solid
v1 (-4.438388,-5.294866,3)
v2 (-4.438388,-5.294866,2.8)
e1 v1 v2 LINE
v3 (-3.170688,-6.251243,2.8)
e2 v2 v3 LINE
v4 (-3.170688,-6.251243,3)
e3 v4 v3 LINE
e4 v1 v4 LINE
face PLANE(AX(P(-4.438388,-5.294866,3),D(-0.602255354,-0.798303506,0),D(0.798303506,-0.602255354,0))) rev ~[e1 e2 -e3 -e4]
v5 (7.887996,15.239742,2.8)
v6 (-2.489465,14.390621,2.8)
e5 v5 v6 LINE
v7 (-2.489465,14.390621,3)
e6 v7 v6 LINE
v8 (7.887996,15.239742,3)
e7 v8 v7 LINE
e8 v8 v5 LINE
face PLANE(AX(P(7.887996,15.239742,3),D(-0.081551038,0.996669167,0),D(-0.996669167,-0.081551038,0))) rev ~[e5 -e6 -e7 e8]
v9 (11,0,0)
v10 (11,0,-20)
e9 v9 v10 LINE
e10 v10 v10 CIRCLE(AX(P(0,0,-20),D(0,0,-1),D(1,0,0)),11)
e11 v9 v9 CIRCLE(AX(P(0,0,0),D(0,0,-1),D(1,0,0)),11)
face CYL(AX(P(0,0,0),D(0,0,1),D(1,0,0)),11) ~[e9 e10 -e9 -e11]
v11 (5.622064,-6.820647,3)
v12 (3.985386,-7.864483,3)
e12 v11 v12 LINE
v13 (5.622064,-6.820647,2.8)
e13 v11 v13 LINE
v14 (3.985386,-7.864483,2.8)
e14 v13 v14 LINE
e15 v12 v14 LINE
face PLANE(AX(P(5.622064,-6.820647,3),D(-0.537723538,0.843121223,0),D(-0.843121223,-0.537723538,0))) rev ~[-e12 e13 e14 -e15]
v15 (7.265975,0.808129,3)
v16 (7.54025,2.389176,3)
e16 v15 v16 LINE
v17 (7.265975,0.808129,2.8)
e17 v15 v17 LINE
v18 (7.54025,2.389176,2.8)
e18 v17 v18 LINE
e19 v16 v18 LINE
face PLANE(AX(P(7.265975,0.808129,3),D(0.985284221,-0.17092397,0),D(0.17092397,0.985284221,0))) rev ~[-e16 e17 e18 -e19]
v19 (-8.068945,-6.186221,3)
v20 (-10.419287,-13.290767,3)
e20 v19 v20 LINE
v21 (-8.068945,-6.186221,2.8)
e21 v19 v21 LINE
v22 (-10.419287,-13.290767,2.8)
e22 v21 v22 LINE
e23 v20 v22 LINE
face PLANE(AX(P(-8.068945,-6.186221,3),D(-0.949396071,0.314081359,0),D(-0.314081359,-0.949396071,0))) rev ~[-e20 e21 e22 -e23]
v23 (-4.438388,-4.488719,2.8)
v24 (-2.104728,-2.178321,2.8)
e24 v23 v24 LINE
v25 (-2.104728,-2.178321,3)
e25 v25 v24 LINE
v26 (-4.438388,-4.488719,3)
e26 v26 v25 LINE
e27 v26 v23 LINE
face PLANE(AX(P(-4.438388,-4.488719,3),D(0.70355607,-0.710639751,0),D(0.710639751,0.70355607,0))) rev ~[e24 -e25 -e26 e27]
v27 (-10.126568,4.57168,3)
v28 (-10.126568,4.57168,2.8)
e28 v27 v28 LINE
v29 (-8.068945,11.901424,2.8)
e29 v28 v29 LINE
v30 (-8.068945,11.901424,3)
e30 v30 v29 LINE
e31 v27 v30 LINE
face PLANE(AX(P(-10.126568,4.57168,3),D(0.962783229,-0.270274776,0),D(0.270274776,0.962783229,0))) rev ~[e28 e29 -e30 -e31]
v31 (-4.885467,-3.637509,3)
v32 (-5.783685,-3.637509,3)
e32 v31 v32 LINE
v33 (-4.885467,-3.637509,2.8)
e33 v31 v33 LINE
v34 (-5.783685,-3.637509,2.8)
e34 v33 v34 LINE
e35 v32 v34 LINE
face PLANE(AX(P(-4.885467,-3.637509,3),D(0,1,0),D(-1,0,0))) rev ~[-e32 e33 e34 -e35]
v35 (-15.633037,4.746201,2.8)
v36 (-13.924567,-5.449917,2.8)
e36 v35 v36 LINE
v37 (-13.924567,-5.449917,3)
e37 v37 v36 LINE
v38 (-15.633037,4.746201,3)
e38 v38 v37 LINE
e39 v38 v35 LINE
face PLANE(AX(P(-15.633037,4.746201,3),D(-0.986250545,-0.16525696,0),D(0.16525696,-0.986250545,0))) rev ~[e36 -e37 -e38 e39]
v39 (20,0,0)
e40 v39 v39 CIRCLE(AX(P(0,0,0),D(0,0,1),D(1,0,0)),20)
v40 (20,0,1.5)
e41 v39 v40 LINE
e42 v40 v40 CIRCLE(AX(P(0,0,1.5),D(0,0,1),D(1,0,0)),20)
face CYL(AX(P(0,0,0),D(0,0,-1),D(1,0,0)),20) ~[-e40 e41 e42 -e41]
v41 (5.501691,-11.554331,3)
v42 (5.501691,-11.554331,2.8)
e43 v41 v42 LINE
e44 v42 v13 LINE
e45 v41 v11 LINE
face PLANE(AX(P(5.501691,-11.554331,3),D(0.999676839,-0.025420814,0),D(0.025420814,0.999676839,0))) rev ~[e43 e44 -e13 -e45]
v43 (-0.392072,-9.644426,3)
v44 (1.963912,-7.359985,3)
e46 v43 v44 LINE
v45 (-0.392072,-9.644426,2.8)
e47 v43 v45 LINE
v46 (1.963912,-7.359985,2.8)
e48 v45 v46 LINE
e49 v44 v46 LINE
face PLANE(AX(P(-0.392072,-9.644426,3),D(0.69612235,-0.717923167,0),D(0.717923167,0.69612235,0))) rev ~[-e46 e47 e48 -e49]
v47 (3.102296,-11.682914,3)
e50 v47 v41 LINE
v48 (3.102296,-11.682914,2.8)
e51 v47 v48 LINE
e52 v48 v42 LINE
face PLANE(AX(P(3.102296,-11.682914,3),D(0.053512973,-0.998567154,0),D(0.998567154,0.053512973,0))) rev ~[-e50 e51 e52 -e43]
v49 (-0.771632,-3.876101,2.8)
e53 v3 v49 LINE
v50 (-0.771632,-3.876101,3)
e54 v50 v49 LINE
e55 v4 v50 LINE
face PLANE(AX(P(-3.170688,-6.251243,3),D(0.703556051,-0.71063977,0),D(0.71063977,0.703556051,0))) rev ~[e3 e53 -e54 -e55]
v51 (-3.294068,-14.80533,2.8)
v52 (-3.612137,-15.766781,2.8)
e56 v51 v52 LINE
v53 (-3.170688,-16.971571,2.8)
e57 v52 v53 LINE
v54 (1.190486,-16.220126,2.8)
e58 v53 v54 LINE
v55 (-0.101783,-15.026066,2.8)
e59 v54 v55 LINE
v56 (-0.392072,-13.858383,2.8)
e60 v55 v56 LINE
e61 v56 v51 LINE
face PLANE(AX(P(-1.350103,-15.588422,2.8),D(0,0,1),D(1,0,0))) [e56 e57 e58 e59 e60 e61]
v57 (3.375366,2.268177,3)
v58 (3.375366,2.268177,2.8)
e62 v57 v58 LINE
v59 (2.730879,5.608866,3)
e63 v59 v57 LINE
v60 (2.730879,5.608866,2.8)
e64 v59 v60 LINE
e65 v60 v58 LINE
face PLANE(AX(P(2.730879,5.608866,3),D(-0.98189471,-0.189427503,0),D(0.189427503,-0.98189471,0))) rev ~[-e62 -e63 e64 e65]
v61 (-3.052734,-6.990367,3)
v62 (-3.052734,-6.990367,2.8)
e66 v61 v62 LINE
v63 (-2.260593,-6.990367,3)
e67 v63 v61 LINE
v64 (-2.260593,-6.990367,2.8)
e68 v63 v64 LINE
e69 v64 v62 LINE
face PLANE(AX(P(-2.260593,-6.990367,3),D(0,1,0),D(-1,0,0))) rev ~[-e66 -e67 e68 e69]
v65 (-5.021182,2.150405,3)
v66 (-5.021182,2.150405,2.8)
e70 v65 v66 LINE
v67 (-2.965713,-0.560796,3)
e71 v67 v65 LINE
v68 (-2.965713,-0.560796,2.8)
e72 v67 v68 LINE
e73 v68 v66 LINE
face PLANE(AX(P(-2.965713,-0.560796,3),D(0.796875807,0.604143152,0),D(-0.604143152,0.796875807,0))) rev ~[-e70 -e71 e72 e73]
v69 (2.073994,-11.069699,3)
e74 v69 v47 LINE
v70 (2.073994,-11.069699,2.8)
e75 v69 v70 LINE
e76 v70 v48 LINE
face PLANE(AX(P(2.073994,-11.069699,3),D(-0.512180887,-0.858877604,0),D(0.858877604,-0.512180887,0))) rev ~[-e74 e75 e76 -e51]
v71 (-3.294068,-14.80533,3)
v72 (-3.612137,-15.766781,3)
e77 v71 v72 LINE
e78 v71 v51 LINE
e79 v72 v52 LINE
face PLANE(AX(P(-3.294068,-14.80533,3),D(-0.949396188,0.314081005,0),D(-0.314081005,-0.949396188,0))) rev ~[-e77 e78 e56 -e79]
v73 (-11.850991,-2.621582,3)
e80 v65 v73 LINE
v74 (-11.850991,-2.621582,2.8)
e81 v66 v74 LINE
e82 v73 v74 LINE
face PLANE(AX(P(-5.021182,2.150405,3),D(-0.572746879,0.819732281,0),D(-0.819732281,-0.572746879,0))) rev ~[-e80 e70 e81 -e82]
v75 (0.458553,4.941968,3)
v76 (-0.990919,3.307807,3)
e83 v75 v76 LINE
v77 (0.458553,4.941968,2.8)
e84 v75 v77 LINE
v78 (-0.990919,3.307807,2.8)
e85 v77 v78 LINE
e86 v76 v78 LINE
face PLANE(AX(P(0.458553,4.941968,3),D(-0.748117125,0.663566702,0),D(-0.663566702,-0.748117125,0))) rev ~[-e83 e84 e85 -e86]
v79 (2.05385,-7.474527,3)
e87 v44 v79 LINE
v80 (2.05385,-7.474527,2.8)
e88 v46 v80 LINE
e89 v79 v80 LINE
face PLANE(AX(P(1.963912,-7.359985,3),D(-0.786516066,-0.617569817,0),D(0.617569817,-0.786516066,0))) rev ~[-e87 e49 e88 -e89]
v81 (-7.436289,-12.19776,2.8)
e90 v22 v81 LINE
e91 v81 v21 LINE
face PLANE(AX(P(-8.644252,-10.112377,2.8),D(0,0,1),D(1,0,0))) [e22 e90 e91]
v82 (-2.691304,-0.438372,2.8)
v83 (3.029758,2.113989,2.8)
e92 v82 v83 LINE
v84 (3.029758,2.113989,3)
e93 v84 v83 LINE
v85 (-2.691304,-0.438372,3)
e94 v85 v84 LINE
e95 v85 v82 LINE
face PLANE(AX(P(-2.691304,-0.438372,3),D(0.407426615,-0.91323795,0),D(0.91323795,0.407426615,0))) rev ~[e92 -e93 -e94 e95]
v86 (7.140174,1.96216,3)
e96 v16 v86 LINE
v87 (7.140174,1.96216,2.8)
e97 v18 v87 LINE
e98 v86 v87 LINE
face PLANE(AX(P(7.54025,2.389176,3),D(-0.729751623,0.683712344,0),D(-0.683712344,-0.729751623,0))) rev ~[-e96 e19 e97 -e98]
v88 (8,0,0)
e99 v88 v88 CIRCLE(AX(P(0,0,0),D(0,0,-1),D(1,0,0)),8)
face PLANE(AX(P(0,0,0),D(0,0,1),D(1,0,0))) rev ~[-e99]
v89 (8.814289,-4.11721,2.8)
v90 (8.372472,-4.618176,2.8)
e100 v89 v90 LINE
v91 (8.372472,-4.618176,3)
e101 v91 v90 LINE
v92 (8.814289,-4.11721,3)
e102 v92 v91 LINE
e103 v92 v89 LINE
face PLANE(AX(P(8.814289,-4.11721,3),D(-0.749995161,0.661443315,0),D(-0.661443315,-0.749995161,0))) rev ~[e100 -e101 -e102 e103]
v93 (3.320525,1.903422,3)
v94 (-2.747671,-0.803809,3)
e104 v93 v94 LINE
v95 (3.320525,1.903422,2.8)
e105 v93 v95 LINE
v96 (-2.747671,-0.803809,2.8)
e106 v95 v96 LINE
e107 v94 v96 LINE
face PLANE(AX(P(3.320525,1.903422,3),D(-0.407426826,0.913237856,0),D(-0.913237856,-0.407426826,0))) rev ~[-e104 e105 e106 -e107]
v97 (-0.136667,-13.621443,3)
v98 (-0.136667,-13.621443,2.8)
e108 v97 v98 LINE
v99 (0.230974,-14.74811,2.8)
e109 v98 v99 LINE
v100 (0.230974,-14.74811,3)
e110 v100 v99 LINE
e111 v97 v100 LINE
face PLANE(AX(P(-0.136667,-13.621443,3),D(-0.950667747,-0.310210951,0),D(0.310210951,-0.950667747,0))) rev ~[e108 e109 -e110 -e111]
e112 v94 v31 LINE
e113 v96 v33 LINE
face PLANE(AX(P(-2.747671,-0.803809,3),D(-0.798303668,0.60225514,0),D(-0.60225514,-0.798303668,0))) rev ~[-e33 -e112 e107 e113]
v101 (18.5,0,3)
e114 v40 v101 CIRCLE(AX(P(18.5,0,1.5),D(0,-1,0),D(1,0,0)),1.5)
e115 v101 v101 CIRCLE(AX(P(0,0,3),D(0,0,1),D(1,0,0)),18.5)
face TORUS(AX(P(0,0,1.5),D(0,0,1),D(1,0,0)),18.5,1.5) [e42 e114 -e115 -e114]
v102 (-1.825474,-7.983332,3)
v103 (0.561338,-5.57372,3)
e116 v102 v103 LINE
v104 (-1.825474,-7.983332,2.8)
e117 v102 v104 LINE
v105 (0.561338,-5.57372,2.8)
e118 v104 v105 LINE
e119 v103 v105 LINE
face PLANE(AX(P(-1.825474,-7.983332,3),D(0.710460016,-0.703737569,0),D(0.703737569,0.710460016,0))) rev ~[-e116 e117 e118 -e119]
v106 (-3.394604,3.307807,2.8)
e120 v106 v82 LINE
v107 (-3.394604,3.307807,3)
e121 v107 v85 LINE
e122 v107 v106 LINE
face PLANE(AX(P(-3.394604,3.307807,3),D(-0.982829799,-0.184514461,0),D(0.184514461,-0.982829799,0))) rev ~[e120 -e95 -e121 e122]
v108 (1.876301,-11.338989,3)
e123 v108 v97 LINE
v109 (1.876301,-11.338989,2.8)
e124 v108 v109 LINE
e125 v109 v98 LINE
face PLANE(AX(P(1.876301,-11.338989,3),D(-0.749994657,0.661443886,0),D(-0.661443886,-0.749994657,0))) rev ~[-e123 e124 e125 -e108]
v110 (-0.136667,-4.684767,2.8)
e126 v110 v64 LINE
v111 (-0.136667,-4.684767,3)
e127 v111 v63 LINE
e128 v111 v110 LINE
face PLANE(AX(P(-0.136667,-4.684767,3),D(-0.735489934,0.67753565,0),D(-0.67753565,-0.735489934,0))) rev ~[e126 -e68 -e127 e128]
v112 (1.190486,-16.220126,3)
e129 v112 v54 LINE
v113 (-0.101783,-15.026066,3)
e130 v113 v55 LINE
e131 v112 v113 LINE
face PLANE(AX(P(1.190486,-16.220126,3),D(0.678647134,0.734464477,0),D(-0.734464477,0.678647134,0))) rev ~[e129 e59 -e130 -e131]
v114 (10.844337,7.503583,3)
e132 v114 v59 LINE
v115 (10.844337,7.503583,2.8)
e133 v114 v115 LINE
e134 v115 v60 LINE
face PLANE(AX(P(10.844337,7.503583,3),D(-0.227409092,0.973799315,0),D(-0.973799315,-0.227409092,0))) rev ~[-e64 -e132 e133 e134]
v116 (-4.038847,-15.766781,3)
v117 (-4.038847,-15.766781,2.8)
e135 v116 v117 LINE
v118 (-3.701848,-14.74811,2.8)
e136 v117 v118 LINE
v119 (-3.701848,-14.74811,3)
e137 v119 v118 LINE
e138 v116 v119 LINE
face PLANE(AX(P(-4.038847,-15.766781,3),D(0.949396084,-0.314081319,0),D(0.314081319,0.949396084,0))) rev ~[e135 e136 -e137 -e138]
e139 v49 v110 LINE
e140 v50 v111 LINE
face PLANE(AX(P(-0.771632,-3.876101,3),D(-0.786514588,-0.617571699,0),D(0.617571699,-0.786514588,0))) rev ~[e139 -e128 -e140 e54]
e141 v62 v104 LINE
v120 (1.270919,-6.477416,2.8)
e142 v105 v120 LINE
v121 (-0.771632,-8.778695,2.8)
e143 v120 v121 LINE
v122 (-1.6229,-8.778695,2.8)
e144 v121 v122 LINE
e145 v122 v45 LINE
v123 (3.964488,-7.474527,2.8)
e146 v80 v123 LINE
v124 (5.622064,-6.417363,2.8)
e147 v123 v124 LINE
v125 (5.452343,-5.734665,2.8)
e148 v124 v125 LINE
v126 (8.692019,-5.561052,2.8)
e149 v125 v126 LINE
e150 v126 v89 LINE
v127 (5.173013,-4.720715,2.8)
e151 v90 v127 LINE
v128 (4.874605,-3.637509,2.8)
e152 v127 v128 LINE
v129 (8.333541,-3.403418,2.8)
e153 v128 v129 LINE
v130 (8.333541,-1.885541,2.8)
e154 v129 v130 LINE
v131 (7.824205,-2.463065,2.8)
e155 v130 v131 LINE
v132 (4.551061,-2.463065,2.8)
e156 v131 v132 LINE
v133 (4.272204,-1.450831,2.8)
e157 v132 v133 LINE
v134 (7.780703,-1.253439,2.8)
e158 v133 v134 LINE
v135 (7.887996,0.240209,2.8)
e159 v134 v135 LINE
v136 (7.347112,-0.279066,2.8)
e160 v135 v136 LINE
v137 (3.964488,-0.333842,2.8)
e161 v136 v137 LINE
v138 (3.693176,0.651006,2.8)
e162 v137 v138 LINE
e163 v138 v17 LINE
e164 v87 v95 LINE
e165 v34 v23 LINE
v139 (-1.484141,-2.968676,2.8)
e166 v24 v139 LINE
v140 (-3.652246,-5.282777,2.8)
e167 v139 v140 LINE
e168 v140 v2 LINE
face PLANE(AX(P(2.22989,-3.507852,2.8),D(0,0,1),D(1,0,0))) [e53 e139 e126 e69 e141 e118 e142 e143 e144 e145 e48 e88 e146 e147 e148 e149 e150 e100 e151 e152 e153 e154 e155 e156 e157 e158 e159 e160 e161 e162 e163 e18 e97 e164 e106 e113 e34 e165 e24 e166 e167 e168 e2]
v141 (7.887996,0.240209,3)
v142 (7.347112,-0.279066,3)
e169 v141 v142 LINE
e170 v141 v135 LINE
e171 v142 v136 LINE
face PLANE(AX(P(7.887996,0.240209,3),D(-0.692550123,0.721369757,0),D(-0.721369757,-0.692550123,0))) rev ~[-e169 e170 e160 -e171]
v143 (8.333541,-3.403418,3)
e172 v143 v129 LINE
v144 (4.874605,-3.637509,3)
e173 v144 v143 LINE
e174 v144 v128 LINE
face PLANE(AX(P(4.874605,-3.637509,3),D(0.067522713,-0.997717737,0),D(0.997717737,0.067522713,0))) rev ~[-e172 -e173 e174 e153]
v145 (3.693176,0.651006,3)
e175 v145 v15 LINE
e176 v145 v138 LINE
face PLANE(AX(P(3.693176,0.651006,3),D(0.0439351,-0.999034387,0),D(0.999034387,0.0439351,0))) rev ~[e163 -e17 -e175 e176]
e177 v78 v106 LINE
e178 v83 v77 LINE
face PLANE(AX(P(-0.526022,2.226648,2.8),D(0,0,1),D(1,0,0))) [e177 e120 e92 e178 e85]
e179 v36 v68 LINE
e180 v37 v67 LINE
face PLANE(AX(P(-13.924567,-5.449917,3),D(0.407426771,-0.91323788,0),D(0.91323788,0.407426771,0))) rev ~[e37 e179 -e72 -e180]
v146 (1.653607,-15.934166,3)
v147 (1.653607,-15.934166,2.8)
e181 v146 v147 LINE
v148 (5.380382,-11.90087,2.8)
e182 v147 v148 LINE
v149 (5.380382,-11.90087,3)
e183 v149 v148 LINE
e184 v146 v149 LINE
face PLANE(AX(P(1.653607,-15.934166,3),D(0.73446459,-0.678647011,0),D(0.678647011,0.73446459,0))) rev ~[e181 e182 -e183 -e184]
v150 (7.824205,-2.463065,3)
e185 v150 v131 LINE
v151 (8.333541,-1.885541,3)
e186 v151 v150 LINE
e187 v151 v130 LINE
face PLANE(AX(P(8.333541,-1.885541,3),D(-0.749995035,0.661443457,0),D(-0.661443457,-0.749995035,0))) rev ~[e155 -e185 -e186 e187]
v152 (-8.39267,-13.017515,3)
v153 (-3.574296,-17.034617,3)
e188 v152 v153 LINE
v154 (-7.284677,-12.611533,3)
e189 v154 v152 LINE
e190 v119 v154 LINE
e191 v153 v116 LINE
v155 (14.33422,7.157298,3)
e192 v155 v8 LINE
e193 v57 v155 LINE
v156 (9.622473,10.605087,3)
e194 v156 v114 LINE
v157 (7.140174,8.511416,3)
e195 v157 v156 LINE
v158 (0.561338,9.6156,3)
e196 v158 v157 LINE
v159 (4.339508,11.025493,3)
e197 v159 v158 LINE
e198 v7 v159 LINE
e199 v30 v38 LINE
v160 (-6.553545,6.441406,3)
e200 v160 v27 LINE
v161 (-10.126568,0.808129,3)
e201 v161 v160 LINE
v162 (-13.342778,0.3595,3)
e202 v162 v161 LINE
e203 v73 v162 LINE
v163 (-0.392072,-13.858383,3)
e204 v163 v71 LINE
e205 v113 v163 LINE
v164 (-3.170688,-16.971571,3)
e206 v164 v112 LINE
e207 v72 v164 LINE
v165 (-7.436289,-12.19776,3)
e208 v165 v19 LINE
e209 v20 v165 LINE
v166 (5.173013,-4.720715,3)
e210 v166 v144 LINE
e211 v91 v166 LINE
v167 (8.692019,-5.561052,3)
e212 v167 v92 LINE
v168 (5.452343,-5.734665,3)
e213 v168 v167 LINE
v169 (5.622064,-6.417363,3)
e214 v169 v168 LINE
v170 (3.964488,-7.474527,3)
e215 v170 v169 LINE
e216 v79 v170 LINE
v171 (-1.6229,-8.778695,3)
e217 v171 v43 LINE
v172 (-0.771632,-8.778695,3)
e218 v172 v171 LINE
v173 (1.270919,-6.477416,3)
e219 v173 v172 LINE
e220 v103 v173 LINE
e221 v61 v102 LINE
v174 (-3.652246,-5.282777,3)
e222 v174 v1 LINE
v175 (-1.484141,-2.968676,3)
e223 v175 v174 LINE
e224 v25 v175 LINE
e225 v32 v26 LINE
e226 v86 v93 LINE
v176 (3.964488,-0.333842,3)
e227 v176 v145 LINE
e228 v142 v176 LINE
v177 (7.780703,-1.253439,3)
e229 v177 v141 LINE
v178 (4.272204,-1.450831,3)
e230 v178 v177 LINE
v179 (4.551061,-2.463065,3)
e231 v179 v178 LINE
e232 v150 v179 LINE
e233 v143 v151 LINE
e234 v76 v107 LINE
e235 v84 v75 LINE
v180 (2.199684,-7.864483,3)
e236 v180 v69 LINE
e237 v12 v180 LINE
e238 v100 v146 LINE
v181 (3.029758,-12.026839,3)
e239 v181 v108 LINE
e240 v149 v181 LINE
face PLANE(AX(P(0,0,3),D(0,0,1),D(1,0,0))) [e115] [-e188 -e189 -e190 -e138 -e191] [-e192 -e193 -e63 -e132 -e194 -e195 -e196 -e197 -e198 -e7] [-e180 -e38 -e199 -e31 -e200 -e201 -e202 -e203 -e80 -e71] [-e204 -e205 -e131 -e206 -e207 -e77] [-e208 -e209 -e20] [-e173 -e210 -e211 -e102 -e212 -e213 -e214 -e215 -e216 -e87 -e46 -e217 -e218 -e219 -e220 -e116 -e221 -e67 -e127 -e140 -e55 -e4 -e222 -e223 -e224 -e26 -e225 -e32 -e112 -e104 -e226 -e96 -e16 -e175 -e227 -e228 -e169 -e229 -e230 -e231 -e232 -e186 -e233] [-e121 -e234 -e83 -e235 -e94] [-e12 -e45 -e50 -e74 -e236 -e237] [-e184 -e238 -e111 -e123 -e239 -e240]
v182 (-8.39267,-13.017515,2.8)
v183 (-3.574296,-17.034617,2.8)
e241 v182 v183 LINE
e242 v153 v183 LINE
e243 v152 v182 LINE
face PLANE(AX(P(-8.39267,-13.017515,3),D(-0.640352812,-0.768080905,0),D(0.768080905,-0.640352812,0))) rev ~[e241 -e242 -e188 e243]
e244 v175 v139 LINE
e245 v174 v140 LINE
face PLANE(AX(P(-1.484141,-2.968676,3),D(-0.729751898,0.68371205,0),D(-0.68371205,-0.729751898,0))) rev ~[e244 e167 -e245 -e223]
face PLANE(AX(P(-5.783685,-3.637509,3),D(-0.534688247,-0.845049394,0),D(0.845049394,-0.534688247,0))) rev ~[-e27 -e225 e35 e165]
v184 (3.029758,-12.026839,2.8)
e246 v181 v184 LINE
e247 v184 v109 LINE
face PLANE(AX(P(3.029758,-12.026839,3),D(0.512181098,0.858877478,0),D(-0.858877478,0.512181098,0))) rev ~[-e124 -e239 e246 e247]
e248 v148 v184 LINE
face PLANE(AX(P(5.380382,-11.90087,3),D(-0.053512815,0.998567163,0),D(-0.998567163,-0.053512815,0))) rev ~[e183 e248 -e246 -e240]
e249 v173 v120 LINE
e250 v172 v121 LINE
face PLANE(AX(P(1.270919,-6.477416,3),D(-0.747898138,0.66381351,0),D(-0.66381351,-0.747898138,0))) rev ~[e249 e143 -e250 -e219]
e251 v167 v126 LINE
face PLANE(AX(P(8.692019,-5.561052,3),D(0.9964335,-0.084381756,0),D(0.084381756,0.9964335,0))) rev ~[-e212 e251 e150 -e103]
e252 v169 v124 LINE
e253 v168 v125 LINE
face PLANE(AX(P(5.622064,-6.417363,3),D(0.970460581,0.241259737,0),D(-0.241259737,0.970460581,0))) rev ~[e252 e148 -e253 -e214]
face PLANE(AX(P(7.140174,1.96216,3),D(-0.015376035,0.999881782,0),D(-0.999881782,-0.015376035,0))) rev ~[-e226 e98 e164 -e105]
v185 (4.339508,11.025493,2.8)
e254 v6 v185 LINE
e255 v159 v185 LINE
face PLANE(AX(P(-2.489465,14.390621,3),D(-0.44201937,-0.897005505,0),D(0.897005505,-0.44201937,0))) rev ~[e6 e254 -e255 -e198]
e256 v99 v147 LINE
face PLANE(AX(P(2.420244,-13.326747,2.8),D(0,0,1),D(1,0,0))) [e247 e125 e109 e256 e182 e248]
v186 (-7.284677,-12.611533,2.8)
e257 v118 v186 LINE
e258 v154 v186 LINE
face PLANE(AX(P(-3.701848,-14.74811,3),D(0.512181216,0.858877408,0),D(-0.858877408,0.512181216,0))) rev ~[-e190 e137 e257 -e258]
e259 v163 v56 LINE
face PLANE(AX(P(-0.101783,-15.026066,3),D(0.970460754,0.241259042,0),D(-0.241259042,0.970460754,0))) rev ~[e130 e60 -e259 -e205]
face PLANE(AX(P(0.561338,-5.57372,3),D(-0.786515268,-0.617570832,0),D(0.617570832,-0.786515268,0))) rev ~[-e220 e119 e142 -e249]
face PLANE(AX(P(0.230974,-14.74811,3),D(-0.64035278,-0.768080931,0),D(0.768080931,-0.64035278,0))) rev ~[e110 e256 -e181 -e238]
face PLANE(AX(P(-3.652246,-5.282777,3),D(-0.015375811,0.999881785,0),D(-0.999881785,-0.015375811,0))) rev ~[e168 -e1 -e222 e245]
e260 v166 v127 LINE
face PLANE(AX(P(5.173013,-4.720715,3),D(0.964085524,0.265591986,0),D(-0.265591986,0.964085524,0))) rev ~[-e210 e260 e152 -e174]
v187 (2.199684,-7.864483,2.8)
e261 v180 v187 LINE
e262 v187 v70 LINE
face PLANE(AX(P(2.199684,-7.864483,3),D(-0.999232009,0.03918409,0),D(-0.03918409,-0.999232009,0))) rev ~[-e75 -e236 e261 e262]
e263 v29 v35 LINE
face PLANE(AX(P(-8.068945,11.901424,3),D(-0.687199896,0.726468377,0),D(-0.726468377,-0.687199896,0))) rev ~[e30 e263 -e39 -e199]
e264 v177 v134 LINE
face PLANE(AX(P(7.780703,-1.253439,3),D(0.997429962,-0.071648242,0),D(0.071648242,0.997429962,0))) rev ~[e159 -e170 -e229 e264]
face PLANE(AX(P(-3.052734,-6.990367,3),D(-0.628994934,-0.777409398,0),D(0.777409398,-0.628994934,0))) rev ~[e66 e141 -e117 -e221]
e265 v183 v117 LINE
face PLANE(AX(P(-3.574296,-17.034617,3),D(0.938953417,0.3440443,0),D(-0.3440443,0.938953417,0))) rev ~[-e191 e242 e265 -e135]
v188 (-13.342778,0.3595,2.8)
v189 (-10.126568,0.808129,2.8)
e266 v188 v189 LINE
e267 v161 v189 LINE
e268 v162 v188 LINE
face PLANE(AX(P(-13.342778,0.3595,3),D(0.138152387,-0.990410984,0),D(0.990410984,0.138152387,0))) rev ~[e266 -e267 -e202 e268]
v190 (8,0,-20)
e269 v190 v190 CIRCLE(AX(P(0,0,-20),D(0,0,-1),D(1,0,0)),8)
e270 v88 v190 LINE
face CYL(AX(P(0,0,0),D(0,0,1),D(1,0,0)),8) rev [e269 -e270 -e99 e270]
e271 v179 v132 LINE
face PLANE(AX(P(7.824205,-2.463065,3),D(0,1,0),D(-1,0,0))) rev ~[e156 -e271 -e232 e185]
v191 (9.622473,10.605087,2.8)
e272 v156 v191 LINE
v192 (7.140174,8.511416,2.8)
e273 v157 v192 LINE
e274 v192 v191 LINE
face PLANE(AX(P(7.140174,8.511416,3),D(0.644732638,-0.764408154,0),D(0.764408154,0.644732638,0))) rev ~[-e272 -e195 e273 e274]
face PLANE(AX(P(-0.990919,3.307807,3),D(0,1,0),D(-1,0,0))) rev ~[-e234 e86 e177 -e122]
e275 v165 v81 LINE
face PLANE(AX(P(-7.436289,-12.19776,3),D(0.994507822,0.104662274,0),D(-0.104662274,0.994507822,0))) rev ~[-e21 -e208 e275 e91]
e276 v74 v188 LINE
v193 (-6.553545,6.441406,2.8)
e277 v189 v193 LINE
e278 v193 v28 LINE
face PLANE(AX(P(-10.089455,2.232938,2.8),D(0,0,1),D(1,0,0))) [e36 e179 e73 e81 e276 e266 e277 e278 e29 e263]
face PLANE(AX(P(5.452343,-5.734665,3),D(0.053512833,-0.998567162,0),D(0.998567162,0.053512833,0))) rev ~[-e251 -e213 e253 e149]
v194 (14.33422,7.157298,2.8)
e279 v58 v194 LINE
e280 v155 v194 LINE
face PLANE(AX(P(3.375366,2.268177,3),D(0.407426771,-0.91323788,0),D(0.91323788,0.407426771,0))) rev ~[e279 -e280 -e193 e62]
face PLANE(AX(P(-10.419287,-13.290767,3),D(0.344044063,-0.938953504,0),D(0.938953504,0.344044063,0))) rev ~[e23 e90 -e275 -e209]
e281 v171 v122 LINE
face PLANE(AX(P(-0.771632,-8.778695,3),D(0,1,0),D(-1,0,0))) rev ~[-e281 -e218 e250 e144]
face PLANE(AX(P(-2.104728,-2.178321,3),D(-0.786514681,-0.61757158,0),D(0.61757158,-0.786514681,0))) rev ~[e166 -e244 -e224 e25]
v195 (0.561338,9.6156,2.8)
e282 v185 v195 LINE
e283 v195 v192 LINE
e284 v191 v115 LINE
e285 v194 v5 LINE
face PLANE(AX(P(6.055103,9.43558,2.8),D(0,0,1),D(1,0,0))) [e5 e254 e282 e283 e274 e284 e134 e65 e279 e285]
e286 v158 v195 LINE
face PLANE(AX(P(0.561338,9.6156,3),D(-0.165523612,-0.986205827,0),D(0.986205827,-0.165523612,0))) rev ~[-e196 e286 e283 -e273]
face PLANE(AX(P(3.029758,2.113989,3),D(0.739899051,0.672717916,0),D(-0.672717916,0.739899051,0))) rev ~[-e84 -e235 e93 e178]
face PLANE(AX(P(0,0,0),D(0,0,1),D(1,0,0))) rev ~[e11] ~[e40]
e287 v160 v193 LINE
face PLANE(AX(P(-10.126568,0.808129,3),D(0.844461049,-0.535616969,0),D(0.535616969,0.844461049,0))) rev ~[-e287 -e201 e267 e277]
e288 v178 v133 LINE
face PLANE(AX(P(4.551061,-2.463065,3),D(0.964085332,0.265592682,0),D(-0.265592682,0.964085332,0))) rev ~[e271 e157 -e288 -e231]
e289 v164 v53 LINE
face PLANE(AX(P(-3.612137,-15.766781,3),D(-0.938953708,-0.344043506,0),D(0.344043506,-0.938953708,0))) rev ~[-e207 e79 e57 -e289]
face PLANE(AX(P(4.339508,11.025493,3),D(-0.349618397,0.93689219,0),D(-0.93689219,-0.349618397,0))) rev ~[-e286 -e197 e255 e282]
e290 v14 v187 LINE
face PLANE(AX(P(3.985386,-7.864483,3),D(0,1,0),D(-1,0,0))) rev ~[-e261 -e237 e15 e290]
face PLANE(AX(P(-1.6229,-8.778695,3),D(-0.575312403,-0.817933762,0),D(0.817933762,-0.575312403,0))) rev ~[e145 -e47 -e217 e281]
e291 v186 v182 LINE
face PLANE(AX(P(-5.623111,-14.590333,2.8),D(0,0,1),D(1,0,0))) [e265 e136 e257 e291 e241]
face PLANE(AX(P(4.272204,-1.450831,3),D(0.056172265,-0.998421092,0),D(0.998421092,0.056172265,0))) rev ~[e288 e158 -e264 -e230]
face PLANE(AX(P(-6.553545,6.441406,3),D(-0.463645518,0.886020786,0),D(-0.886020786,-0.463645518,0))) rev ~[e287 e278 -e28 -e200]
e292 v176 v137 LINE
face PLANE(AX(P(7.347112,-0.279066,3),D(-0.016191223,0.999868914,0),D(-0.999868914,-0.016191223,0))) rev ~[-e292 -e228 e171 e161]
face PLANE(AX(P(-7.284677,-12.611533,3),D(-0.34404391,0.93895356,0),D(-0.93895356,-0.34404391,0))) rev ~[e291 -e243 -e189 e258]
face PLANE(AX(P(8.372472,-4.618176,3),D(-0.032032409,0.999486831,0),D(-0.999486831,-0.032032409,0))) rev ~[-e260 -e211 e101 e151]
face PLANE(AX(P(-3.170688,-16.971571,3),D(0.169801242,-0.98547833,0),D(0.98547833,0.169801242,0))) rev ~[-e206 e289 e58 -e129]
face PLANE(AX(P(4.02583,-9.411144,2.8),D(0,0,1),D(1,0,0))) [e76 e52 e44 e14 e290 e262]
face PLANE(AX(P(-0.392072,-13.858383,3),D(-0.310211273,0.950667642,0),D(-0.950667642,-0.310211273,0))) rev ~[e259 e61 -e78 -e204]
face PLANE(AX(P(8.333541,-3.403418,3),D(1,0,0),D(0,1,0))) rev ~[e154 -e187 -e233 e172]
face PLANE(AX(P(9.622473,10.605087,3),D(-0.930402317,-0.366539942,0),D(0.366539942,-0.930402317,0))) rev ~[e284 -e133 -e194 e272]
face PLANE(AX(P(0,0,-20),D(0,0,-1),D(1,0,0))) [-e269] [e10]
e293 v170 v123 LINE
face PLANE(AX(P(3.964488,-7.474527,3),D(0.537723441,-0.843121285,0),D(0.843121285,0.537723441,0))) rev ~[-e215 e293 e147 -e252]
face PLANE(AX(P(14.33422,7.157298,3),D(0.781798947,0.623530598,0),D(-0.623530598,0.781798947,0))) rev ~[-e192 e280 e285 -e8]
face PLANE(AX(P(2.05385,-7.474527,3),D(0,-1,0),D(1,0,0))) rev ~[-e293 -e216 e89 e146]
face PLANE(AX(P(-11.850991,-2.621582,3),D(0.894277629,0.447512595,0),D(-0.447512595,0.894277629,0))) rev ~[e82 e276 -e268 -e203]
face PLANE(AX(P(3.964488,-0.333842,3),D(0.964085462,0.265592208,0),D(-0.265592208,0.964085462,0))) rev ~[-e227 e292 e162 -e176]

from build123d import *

# Parameters (mm, degrees)
F0_R     = 20
F1_DEPTH = 3
F2_R     = 20.25
F2_R_2   = 20
F3_DEPTH = 3
F5_DEPTH = 0.2
F6_R     = 1.5
F7_R     = 11
F7_R_2   = 8
F8_DEPTH = 20


with BuildPart() as f1:
    # F0 (on Top) → F1 (new body)
    with BuildSketch(Plane.XY):
        Circle(F0_R)
    extrude(amount=F1_DEPTH)

    # F2 (on face) → F3 (cut)
    with BuildSketch(Plane(origin=(0, 0, 0), x_dir=(1, 0, 0), z_dir=(0, 0, -1))):
        Circle(F2_R)
        Circle(F2_R_2, mode=Mode.SUBTRACT)
    extrude(amount=-F3_DEPTH, mode=Mode.SUBTRACT)

    # F4 (on face) → F5 (cut)
    with BuildSketch(Plane.XY.offset(3)):
        Polygon((-6.553545, 6.441406), (-10.126568, 4.57168), (-8.068945, 11.901424), (-15.633037, 4.746201), (-13.924567, -5.449917), (-2.965713, -0.560796), (-5.021182, 2.150405), (-11.850991, -2.621582), (-13.342778, 0.3595), (-10.126568, 0.808129), align=None)
        Polygon((-2.489465, 14.390621), (4.339508, 11.025493), (0.561338, 9.6156), (7.140174, 8.511416), (9.622473, 10.605087), (10.844337, 7.503583), (2.730879, 5.608866), (3.375366, 2.268177), (14.33422, 7.157298), (7.887996, 15.239742), align=None)
        Polygon((-0.990919, 3.307807), (-3.394604, 3.307807), (-2.691304, -0.438372), (3.029758, 2.113989), (0.458553, 4.941968), align=None)
        Polygon((1.963912, -7.359985), (2.05385, -7.474527), (3.964488, -7.474527), (5.622064, -6.417363), (5.452343, -5.734665), (8.692019, -5.561052), (8.814289, -4.11721), (8.372472, -4.618176), (5.173013, -4.720715), (4.874605, -3.637509), (8.333541, -3.403418), (8.333541, -1.885541), (7.824205, -2.463065), (4.551061, -2.463065), (4.272204, -1.450831), (7.780703, -1.253439), (7.887996, 0.240209), (7.347112, -0.279066), (3.964488, -0.333842), (3.693176, 0.651006), (7.265975, 0.808129), (7.54025, 2.389176), (7.140174, 1.96216), (3.320525, 1.903422), (-2.747671, -0.803809), (-4.885467, -3.637509), (-5.783685, -3.637509), (-4.438388, -4.488719), (-2.104728, -2.178321), (-1.484141, -2.968676), (-3.652246, -5.282777), (-4.438388, -5.294866), (-3.170688, -6.251243), (-0.771632, -3.876101), (-0.136667, -4.684767), (-2.260593, -6.990367), (-3.052734, -6.990367), (-1.825474, -7.983332), (0.561338, -5.57372), (1.270919, -6.477416), (-0.771632, -8.778695), (-1.6229, -8.778695), (-0.392072, -9.644426), align=None)
        Polygon((3.985386, -7.864483), (2.199684, -7.864483), (2.073994, -11.069699), (3.102296, -11.682914), (5.501691, -11.554331), (5.622064, -6.820647), align=None)
        Polygon((3.029758, -12.026839), (1.876301, -11.338989), (-0.136667, -13.621443), (0.230974, -14.74811), (1.653607, -15.934166), (5.380382, -11.90087), align=None)
        Polygon((-0.101783, -15.026066), (-0.392072, -13.858383), (-3.294068, -14.80533), (-3.612137, -15.766781), (-3.170688, -16.971571), (1.190486, -16.220126), align=None)
        Polygon((-7.284677, -12.611533), (-8.39267, -13.017515), (-3.574296, -17.034617), (-4.038847, -15.766781), (-3.701848, -14.74811), align=None)
        Polygon((-10.419287, -13.290767), (-7.436289, -12.19776), (-8.068945, -6.186221), align=None)
    extrude(amount=-F5_DEPTH, mode=Mode.SUBTRACT)

    # F6
    f6_edges = [f1.edges().sort_by_distance(p)[0] for p in [
        (-20, 0, 3),
    ]]
    fillet(f6_edges, radius=F6_R)

    # F7 (on face) → F8 (join)
    with BuildSketch(Plane(origin=(0, 0, 0), x_dir=(1, 0, 0), z_dir=(0, 0, -1))):
        Circle(F7_R)
        Circle(F7_R_2, mode=Mode.SUBTRACT)
    extrude(amount=F8_DEPTH)


solid = f1.part
